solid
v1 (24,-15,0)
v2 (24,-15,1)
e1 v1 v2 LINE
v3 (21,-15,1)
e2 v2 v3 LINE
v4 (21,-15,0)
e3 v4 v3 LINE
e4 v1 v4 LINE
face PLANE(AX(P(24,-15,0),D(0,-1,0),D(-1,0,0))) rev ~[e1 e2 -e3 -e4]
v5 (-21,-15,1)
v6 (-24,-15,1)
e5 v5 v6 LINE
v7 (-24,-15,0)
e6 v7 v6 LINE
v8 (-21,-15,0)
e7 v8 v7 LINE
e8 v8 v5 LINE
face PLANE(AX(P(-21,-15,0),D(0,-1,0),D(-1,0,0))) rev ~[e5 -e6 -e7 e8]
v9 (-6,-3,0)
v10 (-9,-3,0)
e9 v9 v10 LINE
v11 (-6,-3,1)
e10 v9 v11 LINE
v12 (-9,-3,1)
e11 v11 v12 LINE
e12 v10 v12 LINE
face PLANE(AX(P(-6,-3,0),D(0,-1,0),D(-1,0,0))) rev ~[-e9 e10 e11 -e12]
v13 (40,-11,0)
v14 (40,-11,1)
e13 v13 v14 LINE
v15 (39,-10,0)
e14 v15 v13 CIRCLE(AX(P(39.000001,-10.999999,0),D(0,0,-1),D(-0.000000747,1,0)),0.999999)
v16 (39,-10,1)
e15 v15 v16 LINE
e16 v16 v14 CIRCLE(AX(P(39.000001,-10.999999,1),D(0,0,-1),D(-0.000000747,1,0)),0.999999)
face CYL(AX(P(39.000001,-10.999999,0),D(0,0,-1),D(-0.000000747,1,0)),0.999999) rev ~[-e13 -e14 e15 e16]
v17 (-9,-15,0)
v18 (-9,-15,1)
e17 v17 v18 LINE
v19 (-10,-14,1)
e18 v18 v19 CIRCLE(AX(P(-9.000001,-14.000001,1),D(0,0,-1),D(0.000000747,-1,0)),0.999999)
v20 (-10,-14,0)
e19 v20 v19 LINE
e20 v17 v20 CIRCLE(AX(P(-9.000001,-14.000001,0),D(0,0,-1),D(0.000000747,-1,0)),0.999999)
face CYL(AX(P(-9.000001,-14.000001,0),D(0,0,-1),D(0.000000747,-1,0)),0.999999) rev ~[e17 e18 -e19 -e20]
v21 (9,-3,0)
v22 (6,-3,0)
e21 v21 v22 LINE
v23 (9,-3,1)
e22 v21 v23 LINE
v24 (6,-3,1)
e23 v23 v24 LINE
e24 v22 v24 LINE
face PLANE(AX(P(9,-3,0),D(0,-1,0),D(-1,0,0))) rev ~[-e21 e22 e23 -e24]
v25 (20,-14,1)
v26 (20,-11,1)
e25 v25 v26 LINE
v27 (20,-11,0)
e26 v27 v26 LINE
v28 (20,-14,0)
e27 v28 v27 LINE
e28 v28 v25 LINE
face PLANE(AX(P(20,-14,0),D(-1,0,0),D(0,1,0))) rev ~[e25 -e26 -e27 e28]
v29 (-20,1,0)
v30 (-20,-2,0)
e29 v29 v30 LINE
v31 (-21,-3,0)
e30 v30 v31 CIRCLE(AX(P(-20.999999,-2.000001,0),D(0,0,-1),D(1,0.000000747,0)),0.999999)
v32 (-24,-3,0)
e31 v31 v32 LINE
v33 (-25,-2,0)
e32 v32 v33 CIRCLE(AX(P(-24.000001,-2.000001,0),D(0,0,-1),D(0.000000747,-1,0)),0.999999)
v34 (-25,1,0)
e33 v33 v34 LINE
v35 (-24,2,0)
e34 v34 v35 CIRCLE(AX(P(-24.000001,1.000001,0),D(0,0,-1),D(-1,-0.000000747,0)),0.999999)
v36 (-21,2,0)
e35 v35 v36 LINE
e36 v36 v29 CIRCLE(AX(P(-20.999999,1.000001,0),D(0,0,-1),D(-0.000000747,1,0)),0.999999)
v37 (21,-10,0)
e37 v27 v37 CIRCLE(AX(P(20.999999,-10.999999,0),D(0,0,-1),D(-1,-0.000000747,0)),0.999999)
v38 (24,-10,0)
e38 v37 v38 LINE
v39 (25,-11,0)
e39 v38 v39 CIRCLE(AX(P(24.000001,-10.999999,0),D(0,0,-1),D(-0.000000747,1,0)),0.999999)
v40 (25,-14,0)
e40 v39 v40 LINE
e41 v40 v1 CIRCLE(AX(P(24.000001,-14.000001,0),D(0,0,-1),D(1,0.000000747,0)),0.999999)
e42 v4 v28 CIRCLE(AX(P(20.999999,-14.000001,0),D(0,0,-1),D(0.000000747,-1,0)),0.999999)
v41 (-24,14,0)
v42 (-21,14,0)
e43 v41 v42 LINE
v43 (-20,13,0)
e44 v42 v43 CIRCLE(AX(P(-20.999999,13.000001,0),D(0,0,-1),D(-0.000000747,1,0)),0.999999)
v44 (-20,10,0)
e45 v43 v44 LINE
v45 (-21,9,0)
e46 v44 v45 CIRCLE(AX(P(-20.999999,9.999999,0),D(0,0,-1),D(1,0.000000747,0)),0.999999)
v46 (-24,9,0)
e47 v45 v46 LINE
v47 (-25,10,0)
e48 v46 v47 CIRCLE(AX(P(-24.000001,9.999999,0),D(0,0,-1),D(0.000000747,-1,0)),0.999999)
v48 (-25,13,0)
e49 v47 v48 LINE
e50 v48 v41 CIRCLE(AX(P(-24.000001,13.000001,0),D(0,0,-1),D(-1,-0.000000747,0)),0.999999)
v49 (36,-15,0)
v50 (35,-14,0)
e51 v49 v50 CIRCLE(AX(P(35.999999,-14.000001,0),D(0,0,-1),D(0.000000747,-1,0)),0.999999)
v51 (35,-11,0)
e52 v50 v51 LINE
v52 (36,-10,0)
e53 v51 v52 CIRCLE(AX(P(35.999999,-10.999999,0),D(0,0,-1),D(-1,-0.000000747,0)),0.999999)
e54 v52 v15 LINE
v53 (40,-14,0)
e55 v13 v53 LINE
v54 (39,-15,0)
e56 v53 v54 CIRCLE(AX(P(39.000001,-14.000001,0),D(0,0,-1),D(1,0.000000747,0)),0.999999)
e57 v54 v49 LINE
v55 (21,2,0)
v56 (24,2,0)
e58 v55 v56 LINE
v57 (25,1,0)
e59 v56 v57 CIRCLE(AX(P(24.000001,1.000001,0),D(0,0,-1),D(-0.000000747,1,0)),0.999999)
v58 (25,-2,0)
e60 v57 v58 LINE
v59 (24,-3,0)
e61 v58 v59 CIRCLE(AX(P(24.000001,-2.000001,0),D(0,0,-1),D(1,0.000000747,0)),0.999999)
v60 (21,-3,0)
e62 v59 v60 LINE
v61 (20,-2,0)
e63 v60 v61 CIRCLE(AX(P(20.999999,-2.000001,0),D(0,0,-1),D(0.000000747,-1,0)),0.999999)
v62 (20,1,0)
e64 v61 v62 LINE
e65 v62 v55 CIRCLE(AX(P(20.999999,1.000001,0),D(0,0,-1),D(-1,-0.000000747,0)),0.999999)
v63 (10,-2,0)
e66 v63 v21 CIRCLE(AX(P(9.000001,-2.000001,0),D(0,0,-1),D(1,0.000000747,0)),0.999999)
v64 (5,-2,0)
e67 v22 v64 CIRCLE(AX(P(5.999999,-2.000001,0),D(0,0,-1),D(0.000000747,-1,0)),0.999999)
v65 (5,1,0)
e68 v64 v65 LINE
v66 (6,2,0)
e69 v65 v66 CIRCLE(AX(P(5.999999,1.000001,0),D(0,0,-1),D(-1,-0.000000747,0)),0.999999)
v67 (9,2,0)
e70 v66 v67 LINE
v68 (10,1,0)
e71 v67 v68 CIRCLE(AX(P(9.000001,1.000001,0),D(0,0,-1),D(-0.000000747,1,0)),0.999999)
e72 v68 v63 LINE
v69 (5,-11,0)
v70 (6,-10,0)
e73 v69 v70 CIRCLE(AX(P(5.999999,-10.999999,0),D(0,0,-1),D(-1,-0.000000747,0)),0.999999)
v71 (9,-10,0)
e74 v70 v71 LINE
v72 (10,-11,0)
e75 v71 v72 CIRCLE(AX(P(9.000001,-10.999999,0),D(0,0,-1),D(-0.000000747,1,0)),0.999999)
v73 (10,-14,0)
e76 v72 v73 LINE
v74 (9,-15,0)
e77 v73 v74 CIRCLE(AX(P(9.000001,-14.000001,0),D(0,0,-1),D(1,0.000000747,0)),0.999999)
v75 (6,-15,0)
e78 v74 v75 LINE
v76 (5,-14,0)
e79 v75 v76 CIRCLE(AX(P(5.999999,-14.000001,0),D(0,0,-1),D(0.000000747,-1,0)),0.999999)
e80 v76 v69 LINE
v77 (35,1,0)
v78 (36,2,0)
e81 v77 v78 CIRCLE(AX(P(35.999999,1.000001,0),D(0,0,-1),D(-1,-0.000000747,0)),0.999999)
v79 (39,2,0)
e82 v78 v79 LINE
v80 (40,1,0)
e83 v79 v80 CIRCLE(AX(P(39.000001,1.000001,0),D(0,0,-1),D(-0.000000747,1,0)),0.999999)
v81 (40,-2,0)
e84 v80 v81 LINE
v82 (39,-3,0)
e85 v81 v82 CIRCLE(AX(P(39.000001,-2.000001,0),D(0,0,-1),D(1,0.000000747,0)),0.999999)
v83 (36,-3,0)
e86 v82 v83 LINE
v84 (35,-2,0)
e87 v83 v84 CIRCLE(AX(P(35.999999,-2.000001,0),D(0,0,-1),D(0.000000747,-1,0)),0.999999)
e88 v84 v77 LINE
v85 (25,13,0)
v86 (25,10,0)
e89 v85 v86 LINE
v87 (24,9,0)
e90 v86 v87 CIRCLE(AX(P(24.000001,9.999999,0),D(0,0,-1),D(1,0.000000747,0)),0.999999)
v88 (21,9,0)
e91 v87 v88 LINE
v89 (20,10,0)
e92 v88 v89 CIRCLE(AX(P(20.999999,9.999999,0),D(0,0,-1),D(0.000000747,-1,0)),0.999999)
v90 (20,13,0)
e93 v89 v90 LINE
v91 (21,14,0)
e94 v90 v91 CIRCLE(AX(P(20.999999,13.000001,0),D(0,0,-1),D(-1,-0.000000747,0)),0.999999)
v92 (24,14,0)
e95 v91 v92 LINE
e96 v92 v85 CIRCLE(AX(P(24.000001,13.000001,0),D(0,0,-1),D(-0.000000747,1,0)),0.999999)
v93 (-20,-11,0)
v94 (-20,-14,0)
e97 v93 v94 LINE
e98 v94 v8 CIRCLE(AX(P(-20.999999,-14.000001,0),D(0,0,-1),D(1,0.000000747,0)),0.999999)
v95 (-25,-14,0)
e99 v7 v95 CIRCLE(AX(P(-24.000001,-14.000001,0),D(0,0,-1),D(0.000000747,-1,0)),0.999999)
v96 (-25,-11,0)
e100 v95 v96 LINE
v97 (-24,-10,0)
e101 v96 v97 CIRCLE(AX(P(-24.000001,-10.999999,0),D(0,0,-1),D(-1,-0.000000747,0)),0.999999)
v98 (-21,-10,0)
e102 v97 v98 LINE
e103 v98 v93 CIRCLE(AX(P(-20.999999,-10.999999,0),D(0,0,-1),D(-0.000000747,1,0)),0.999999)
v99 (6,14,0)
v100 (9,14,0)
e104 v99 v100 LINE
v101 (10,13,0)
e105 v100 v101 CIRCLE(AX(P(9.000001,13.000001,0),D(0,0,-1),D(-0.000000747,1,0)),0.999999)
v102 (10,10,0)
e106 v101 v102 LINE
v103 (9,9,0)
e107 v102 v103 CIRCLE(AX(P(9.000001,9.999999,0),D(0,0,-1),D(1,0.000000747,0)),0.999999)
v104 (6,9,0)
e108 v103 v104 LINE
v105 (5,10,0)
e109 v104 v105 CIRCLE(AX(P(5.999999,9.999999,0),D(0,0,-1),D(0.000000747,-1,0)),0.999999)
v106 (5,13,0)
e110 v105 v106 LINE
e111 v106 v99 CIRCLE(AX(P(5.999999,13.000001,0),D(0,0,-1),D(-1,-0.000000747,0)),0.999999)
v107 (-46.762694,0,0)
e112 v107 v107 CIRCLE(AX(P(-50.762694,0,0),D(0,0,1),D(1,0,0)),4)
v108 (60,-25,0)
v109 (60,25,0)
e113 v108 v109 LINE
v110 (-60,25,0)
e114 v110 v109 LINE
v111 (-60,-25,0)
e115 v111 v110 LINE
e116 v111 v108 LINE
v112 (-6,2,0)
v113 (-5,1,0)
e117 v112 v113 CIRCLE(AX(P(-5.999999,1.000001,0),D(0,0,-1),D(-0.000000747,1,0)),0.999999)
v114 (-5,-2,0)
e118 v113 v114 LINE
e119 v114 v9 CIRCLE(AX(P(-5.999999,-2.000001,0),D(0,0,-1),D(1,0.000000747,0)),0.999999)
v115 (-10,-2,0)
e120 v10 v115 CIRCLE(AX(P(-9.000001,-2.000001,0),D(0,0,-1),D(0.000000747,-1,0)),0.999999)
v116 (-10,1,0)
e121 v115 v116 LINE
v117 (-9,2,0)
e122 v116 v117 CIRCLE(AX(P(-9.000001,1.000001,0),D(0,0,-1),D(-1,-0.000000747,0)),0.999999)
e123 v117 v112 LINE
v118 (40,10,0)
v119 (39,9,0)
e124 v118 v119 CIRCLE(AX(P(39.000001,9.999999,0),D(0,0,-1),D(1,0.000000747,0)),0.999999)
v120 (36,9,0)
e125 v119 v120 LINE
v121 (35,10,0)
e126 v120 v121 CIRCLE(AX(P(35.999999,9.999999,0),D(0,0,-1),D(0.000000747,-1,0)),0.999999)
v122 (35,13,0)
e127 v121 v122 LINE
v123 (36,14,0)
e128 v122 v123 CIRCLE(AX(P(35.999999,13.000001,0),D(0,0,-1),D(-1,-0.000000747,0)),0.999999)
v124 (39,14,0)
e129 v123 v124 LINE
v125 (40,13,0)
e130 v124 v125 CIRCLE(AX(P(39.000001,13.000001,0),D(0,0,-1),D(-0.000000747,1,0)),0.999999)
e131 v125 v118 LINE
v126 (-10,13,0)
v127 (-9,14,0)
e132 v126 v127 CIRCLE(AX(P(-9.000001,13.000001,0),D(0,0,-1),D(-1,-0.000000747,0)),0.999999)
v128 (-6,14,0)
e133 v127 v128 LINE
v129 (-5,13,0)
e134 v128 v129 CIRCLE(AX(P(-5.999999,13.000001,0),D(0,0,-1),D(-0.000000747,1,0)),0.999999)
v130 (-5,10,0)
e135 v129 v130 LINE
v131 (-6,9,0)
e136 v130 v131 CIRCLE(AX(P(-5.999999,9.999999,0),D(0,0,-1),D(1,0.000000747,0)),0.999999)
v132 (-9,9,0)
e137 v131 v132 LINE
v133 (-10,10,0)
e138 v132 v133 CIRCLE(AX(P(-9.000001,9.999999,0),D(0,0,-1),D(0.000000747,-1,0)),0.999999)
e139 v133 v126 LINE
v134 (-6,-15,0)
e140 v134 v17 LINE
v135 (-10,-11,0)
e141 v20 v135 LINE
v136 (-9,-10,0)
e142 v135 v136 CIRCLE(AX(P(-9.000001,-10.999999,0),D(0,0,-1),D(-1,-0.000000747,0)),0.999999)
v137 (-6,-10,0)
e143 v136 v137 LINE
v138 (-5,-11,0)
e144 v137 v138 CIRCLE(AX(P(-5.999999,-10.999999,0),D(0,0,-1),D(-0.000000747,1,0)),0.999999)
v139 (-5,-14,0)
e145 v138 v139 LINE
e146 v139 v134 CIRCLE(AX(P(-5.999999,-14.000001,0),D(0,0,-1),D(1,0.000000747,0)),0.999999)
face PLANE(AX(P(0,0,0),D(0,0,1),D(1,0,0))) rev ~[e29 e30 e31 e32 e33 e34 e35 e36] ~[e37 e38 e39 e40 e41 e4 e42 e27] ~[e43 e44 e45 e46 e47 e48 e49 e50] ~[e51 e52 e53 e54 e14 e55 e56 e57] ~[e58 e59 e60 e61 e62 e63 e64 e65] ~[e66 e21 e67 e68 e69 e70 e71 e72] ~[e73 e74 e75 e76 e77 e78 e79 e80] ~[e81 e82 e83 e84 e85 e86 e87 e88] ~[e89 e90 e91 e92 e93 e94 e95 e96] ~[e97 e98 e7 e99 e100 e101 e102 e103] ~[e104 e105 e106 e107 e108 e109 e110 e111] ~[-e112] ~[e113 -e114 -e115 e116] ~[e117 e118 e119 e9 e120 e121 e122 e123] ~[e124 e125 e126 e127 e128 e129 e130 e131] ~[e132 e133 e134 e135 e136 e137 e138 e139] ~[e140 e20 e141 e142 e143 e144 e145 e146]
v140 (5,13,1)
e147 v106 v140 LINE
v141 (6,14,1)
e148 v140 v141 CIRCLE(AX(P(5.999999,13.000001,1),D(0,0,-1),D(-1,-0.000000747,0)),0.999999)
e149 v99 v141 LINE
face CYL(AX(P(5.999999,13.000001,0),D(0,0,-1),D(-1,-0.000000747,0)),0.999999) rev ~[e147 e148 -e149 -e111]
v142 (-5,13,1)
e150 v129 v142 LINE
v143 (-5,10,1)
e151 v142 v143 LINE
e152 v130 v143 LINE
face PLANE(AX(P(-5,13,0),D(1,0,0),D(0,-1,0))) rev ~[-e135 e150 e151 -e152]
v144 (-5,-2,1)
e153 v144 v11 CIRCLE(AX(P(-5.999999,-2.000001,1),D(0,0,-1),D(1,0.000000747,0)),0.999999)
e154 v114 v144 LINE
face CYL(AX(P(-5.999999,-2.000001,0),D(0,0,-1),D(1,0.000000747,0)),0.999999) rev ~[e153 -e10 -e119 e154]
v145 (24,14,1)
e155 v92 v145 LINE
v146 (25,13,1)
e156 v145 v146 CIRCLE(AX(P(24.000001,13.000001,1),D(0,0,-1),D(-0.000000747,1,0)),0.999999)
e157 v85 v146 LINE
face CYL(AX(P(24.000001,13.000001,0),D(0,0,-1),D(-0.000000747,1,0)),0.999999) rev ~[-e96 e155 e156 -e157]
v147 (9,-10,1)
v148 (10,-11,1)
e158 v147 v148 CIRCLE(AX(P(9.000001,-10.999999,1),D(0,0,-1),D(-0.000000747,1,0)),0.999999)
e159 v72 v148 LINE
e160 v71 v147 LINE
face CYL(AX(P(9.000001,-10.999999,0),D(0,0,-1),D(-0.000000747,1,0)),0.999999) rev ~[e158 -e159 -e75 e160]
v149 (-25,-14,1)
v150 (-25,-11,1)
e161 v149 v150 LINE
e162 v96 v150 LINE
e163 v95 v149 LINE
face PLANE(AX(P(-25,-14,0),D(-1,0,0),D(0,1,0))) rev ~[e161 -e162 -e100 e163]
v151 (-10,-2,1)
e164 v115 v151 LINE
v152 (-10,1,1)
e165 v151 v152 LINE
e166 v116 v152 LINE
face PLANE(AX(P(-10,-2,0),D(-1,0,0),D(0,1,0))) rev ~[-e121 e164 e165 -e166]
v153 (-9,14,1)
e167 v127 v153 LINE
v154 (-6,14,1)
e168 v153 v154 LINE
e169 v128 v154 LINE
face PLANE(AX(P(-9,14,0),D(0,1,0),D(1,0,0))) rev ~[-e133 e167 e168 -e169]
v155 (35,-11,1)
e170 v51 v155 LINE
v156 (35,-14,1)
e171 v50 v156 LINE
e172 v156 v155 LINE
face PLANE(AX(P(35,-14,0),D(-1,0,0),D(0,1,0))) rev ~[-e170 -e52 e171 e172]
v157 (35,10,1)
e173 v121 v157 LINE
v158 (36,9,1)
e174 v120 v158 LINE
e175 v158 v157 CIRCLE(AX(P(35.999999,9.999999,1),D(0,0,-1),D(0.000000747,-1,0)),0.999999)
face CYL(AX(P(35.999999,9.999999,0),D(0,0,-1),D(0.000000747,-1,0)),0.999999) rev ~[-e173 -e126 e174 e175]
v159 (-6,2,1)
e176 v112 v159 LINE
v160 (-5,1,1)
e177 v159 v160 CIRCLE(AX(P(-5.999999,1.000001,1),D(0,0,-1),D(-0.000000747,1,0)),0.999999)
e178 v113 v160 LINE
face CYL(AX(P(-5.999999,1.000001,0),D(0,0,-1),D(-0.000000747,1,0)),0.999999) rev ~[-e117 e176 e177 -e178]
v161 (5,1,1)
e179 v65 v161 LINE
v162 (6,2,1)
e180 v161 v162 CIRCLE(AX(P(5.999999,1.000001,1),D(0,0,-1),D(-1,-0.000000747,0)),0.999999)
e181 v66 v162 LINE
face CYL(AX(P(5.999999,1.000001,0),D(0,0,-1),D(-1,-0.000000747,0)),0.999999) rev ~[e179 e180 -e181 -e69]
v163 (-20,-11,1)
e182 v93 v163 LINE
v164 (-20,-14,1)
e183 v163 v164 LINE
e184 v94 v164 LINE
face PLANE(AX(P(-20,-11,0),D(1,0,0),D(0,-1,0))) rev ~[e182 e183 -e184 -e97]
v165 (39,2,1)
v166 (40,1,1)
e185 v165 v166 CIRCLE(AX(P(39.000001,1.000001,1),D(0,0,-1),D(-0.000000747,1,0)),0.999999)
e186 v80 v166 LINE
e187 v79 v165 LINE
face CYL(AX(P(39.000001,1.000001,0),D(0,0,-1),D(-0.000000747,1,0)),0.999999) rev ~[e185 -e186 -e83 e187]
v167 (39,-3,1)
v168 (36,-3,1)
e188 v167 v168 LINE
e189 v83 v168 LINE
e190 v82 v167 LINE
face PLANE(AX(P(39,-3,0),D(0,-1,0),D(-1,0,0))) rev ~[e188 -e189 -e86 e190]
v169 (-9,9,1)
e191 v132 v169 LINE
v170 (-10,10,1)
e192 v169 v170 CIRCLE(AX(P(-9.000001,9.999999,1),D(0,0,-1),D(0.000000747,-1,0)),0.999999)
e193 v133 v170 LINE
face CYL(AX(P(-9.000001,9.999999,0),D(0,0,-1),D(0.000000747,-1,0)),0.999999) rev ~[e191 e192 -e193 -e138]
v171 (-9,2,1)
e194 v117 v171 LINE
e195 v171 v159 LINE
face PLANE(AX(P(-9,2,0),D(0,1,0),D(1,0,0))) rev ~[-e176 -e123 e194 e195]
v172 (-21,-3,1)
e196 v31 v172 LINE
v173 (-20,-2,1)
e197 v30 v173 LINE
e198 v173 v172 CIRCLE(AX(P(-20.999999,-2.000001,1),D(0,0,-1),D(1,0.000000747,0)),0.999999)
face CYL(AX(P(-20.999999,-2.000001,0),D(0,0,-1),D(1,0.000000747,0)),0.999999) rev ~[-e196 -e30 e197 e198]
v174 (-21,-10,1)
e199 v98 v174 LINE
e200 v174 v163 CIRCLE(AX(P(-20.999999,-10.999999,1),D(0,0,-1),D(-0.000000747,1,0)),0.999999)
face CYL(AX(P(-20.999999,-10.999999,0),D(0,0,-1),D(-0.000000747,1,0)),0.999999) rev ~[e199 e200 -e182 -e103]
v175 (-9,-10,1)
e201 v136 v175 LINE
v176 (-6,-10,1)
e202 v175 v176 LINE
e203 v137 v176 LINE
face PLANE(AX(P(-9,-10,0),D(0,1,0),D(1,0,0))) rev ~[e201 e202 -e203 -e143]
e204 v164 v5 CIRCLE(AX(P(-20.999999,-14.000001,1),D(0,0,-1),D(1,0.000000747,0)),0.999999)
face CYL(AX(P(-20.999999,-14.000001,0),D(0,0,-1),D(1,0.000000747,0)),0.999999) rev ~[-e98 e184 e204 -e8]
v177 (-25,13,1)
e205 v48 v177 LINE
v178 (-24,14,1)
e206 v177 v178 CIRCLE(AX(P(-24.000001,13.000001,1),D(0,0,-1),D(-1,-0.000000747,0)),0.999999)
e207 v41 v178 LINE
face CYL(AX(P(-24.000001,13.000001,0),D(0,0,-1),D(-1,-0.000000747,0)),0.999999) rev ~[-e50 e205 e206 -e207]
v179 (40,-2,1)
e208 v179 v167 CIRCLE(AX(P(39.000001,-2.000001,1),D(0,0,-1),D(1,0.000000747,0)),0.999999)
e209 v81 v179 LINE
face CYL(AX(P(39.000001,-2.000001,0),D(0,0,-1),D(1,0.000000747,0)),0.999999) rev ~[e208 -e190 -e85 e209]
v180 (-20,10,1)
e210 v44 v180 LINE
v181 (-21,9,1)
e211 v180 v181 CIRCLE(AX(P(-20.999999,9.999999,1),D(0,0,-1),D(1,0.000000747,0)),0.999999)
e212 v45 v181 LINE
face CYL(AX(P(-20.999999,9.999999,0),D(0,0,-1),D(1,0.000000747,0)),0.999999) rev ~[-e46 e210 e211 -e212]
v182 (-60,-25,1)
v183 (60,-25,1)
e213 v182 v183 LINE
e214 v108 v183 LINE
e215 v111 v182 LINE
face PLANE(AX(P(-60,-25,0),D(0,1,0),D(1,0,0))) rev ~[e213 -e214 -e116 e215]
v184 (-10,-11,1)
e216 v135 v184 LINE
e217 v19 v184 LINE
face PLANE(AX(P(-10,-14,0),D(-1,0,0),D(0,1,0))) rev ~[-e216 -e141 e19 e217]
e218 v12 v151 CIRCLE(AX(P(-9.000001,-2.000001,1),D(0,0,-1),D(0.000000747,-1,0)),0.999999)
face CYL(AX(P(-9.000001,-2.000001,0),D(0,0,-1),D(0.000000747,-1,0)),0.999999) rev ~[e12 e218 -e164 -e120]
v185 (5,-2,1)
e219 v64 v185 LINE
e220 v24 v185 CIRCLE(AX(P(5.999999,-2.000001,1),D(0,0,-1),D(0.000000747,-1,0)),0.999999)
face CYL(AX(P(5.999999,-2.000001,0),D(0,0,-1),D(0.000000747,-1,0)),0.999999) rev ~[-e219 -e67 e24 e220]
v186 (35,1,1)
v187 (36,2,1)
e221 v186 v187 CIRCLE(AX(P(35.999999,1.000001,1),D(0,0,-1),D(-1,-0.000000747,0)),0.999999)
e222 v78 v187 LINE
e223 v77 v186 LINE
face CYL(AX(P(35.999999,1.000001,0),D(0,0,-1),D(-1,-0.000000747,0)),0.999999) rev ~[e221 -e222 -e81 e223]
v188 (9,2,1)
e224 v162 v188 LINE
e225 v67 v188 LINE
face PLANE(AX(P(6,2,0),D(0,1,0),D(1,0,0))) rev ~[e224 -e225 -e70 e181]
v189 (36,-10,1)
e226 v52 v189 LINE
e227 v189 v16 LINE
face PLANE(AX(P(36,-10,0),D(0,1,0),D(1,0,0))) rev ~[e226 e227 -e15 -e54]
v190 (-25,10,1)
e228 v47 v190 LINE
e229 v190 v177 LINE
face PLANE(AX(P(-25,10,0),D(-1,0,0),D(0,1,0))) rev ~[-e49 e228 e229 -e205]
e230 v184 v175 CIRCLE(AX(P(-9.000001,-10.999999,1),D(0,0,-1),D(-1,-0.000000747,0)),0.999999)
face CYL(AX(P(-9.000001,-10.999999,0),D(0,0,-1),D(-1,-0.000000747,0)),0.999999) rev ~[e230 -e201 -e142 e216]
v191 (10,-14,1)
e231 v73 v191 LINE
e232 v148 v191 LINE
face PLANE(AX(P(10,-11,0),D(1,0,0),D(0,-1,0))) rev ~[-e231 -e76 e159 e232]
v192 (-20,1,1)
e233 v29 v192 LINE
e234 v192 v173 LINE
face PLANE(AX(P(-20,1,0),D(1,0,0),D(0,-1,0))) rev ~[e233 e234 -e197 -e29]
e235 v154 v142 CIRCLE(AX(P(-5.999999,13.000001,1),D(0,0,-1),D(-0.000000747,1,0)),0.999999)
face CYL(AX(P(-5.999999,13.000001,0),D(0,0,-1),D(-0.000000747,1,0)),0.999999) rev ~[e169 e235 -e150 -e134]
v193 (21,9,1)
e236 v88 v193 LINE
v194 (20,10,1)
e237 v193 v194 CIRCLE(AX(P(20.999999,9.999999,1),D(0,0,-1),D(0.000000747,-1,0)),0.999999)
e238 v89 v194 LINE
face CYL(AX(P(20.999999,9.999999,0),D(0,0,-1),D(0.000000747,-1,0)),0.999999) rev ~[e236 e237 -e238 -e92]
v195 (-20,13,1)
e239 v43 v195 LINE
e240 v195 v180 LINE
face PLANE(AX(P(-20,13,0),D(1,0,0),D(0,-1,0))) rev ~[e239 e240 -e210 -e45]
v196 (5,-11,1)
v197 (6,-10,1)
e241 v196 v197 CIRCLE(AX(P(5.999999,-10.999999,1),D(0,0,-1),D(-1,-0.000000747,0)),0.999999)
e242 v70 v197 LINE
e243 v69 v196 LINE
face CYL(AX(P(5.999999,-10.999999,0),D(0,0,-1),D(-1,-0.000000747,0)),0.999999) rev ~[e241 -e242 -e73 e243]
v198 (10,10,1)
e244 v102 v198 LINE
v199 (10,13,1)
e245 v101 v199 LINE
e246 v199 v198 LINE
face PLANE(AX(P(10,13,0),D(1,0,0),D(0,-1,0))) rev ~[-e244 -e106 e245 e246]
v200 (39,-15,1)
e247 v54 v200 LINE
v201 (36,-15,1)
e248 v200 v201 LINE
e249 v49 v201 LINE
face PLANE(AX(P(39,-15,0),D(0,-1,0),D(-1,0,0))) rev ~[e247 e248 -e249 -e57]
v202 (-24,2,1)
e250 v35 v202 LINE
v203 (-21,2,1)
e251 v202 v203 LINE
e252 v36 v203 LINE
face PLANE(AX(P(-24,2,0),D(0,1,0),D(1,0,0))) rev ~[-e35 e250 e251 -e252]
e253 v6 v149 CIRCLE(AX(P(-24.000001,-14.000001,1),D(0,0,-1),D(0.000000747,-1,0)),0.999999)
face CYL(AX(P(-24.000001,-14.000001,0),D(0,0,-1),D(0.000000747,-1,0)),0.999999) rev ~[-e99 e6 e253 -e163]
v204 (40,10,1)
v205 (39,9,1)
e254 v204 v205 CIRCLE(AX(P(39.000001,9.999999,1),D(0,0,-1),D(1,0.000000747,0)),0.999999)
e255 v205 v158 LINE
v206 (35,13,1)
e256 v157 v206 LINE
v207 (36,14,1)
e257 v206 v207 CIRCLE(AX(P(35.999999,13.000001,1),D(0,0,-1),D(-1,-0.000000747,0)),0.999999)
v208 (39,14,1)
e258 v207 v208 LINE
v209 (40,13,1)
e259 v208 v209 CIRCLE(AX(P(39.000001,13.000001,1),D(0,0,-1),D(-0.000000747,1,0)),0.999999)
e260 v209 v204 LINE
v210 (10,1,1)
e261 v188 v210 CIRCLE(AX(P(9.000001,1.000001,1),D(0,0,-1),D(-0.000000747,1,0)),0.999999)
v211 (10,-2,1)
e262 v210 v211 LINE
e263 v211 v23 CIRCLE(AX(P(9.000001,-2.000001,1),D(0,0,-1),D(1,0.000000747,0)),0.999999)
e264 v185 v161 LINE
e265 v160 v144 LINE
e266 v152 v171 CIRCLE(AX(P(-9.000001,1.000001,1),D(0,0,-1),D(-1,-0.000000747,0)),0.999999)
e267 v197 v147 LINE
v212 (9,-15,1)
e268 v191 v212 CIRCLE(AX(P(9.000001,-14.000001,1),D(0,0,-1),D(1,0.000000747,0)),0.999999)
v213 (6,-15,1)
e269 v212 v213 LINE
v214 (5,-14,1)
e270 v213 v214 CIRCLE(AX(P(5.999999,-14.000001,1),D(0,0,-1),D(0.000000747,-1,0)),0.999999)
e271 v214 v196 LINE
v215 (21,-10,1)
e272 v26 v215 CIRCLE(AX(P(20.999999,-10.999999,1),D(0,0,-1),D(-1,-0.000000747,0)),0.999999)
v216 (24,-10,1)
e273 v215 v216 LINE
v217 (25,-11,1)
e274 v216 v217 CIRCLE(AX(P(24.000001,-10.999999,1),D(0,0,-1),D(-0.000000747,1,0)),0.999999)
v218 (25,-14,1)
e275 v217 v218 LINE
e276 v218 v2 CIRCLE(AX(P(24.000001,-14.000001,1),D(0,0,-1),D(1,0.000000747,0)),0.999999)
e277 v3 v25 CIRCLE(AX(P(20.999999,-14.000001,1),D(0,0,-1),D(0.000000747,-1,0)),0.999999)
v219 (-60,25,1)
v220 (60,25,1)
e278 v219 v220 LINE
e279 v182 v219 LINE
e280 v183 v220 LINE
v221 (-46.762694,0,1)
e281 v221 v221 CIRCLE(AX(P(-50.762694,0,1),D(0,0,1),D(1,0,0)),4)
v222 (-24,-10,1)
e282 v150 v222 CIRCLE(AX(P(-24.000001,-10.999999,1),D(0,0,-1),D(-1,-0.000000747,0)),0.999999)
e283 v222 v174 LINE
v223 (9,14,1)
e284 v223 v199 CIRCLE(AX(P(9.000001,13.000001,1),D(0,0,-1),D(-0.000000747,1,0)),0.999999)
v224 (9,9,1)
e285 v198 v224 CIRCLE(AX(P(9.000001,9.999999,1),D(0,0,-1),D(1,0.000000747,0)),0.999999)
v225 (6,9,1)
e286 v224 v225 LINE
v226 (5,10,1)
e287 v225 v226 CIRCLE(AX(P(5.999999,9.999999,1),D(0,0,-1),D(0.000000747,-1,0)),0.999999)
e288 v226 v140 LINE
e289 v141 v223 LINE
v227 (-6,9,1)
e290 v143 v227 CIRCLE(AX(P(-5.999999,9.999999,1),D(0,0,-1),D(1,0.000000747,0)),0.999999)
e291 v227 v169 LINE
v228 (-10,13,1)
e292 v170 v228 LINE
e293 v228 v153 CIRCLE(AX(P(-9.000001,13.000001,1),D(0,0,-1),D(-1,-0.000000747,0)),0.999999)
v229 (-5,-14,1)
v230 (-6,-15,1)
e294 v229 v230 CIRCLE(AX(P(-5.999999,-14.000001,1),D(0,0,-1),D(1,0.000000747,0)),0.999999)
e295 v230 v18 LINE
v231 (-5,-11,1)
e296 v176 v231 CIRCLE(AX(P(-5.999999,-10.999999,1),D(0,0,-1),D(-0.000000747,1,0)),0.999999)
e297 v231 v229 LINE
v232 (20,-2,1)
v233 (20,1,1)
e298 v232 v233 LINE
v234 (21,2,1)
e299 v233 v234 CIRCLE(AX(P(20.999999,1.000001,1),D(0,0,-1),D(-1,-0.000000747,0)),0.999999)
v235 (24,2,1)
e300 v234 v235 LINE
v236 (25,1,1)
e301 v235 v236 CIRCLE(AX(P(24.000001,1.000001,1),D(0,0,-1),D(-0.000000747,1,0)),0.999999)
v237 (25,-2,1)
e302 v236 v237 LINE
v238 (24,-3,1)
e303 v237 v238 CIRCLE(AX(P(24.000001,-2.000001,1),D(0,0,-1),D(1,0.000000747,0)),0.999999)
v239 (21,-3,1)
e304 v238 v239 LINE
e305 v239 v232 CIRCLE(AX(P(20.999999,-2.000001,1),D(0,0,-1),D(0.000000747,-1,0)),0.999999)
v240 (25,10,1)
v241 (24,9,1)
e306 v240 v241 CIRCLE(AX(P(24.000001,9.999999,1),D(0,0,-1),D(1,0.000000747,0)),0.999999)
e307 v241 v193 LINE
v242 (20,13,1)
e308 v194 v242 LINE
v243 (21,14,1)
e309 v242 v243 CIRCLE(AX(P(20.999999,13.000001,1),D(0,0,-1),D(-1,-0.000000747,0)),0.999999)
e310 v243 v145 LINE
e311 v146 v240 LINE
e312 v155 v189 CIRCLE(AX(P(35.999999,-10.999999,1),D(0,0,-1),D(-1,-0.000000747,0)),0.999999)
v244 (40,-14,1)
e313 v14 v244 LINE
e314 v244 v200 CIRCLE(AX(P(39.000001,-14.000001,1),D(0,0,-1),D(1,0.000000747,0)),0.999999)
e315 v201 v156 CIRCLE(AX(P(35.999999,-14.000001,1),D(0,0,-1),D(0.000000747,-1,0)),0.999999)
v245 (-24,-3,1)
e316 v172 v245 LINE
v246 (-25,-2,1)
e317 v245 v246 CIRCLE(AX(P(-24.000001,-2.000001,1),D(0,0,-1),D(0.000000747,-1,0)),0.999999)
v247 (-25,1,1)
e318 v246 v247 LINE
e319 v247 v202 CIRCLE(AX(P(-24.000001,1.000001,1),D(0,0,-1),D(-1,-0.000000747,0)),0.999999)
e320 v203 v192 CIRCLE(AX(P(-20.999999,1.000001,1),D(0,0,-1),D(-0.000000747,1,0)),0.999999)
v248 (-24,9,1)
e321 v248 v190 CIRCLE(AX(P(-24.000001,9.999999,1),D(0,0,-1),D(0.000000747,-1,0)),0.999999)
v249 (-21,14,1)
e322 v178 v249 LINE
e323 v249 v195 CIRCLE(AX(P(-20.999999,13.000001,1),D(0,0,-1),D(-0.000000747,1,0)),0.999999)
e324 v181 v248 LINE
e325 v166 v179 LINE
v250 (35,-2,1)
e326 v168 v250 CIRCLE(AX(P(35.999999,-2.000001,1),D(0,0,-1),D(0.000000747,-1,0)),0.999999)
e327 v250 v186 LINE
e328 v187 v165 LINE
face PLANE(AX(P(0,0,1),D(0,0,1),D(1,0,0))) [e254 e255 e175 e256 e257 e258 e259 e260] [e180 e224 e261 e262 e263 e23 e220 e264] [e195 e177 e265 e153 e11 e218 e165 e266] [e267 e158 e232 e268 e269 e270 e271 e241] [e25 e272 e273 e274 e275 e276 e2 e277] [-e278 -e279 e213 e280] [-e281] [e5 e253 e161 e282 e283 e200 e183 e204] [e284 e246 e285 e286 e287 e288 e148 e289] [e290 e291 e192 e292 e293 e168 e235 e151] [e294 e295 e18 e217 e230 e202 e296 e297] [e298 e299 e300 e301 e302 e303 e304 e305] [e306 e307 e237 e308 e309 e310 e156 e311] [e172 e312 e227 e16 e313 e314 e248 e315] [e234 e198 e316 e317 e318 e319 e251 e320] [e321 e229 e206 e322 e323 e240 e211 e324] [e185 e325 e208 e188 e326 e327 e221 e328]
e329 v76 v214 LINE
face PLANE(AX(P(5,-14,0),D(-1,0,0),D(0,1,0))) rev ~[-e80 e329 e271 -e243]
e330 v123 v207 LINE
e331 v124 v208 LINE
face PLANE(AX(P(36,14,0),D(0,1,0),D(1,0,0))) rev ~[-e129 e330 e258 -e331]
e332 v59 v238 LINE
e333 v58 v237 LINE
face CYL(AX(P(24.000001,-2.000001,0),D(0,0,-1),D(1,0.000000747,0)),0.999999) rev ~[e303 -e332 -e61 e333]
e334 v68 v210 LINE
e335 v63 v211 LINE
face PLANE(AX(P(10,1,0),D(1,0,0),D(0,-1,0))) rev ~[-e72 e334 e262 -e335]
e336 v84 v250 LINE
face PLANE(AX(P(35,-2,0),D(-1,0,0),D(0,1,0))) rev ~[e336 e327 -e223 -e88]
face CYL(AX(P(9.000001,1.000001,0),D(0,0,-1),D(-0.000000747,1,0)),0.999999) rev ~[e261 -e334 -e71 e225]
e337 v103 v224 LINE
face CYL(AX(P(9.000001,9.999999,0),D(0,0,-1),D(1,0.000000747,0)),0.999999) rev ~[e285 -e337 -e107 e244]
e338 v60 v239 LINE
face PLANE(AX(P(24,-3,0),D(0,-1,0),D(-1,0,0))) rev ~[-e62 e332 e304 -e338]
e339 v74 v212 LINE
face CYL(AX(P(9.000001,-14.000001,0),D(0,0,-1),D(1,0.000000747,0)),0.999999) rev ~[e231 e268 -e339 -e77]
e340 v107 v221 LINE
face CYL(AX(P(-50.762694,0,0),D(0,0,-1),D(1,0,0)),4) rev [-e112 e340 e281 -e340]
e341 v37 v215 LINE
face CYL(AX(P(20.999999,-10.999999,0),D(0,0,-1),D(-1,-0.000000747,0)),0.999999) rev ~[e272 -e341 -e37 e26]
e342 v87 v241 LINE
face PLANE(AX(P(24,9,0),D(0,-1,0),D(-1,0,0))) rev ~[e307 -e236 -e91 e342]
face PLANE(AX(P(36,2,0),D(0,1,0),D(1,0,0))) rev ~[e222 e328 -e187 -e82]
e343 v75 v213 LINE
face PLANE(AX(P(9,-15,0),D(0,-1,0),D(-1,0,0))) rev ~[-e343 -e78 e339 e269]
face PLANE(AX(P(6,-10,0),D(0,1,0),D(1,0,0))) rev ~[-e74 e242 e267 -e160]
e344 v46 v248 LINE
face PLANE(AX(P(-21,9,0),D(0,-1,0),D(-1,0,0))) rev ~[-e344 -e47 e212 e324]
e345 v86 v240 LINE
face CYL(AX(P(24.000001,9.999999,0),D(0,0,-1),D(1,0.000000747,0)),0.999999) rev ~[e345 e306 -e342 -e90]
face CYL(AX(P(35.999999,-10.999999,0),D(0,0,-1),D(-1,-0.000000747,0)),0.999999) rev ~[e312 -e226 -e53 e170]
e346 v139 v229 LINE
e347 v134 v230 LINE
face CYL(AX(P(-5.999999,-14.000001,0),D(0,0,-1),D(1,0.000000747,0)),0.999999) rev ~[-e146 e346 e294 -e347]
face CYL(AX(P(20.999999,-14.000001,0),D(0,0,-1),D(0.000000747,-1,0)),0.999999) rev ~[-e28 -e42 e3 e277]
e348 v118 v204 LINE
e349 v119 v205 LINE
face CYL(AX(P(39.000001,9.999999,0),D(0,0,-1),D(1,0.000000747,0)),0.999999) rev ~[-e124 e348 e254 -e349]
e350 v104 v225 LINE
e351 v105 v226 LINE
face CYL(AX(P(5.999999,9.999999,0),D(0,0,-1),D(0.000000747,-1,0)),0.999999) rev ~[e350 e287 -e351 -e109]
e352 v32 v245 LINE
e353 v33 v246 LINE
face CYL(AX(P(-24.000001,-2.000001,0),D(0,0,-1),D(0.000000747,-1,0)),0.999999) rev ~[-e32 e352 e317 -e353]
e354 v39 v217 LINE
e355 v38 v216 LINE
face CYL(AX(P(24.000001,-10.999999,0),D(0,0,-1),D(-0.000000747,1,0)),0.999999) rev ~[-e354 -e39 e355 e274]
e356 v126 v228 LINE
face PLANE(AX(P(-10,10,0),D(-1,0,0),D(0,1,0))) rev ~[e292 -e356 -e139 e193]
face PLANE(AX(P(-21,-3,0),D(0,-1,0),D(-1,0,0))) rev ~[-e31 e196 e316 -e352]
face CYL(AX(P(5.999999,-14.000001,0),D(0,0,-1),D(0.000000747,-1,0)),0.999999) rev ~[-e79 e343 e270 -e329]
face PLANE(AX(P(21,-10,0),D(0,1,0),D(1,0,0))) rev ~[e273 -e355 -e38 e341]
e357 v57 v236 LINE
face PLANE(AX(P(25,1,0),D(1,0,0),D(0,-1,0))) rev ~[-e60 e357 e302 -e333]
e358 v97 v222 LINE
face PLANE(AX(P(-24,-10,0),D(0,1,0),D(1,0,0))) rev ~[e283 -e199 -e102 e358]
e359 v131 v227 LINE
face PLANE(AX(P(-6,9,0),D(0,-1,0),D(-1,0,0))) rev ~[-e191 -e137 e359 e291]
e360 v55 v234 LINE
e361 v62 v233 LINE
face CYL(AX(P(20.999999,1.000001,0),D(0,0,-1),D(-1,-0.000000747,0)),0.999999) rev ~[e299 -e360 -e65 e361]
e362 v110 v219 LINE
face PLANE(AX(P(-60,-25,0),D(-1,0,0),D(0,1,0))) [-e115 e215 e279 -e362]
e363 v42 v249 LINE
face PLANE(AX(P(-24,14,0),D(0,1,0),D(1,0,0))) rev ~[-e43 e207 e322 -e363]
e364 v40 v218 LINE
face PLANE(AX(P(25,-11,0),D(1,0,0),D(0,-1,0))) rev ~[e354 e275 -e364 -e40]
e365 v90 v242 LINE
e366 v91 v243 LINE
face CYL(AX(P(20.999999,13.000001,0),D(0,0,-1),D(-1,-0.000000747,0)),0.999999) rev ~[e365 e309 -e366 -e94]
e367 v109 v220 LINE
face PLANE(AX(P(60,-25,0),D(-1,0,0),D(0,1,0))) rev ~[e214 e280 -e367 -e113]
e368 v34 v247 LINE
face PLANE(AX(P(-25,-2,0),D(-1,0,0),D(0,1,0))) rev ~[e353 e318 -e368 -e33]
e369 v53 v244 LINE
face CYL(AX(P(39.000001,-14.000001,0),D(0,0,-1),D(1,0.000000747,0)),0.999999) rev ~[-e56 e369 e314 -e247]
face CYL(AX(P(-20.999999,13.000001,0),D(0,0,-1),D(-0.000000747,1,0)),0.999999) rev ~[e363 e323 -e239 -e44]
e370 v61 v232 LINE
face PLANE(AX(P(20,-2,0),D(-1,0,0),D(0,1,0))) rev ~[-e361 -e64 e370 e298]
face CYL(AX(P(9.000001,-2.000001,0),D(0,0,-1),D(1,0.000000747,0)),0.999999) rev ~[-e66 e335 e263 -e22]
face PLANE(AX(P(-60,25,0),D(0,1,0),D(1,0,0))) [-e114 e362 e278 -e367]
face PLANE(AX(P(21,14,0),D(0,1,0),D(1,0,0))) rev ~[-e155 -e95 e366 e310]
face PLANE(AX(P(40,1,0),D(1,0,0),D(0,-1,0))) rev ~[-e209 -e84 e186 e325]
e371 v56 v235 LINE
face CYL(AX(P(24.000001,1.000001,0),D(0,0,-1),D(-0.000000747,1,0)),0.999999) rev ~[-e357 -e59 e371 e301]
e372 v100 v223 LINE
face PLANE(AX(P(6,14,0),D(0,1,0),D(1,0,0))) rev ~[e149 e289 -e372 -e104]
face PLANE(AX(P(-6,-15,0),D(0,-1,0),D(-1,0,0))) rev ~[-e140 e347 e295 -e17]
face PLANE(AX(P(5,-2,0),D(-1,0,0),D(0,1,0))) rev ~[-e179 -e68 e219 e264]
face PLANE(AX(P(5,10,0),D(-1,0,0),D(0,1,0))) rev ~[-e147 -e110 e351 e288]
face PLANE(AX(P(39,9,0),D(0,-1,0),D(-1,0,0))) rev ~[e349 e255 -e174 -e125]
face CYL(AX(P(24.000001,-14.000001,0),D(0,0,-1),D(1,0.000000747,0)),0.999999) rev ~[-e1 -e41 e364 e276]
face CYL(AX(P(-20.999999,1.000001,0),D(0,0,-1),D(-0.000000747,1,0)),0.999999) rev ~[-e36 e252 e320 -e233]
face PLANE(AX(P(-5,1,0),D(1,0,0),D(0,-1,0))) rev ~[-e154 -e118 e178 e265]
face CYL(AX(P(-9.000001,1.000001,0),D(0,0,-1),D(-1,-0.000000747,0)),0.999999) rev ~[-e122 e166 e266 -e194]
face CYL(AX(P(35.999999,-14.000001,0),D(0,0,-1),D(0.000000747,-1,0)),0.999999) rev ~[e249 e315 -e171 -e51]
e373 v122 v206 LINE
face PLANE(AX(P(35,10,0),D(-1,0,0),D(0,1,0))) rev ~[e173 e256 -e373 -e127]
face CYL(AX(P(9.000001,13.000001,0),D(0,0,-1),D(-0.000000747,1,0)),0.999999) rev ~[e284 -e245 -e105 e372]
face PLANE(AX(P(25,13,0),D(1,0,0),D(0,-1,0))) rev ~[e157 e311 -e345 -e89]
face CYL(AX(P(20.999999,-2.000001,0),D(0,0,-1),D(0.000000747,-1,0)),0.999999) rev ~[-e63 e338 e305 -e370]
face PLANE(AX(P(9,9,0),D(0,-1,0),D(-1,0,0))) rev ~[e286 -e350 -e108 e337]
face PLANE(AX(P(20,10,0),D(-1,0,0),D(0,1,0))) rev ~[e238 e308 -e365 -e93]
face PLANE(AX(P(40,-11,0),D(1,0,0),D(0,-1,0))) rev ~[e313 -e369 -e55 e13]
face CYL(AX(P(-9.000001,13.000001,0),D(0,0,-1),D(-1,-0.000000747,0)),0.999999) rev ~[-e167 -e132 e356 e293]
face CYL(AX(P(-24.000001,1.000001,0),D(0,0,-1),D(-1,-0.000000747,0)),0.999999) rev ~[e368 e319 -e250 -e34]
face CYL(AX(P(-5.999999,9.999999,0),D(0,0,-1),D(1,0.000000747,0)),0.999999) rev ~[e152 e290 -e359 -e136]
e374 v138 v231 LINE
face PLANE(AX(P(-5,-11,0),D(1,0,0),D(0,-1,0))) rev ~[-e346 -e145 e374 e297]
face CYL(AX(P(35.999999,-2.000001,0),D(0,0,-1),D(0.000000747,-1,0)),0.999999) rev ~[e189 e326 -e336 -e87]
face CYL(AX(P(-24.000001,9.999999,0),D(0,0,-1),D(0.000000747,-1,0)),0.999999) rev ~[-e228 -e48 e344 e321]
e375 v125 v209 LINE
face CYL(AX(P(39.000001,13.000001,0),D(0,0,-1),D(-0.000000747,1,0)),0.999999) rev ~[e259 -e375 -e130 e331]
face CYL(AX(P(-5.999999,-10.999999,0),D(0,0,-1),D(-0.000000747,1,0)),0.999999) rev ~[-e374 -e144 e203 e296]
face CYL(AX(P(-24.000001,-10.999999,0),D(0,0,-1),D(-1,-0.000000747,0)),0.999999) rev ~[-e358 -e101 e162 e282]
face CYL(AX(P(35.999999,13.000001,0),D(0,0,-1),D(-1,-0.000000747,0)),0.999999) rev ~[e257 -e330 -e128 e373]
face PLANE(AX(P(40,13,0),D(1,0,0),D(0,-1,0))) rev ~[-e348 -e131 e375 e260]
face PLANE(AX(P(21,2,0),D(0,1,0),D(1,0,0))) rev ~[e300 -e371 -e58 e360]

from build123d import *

# Parameters (mm, degrees)
F0_W     = 120
F0_H     = 50
F0_R     = 4
F1_DEPTH = 1


with BuildPart() as f1:
    # F0 (on Top) → F1 (new body)
    with BuildSketch(Plane.XY):
        Rectangle(F0_W, F0_H)
        with BuildLine():
            Line((-21, -15), (-24, -15))
            ThreePointArc((-24, -15), (-24.707107, -14.707107), (-25, -14))
            Line((-25, -14), (-25, -11))
            ThreePointArc((-25, -11), (-24.707107, -10.292893), (-24, -10))
            Line((-24, -10), (-21, -10))
            ThreePointArc((-21, -10), (-20.292893, -10.292893), (-20, -11))
            Line((-20, -11), (-20, -14))
            ThreePointArc((-20, -14), (-20.292893, -14.707107), (-21, -15))
        make_face(mode=Mode.SUBTRACT)
        with BuildLine():
            ThreePointArc((-10, -11), (-9.707107, -10.292893), (-9, -10))
            Line((-9, -10), (-6, -10))
            ThreePointArc((-6, -10), (-5.292893, -10.292893), (-5, -11))
            Line((-5, -11), (-5, -14))
            ThreePointArc((-5, -14), (-5.292893, -14.707107), (-6, -15))
            Line((-6, -15), (-9, -15))
            ThreePointArc((-9, -15), (-9.707107, -14.707107), (-10, -14))
            Line((-10, -14), (-10, -11))
        make_face(mode=Mode.SUBTRACT)
        with BuildLine():
            ThreePointArc((-25, 1), (-24.707107, 1.707107), (-24, 2))
            Line((-24, 2), (-21, 2))
            ThreePointArc((-21, 2), (-20.292893, 1.707107), (-20, 1))
            Line((-20, 1), (-20, -2))
            ThreePointArc((-20, -2), (-20.292893, -2.707107), (-21, -3))
            Line((-21, -3), (-24, -3))
            ThreePointArc((-24, -3), (-24.707107, -2.707107), (-25, -2))
            Line((-25, -2), (-25, 1))
        make_face(mode=Mode.SUBTRACT)
        with BuildLine():
            ThreePointArc((-10, 1), (-9.707107, 1.707107), (-9, 2))
            Line((-9, 2), (-6, 2))
            ThreePointArc((-6, 2), (-5.292893, 1.707107), (-5, 1))
            Line((-5, 1), (-5, -2))
            ThreePointArc((-5, -2), (-5.292893, -2.707107), (-6, -3))
            Line((-6, -3), (-9, -3))
            ThreePointArc((-9, -3), (-9.707107, -2.707107), (-10, -2))
            Line((-10, -2), (-10, 1))
        make_face(mode=Mode.SUBTRACT)
        with BuildLine():
            ThreePointArc((5, -11), (5.292893, -10.292893), (6, -10))
            Line((6, -10), (9, -10))
            ThreePointArc((9, -10), (9.707107, -10.292893), (10, -11))
            Line((10, -11), (10, -14))
            ThreePointArc((10, -14), (9.707107, -14.707107), (9, -15))
            Line((9, -15), (6, -15))
            ThreePointArc((6, -15), (5.292893, -14.707107), (5, -14))
            Line((5, -14), (5, -11))
        make_face(mode=Mode.SUBTRACT)
        with BuildLine():
            ThreePointArc((20, -11), (20.292893, -10.292893), (21, -10))
            Line((21, -10), (24, -10))
            ThreePointArc((24, -10), (24.707107, -10.292893), (25, -11))
            Line((25, -11), (25, -14))
            ThreePointArc((25, -14), (24.707107, -14.707107), (24, -15))
            Line((24, -15), (21, -15))
            ThreePointArc((21, -15), (20.292893, -14.707107), (20, -14))
            Line((20, -14), (20, -11))
        make_face(mode=Mode.SUBTRACT)
        with BuildLine():
            ThreePointArc((5, 1), (5.292893, 1.707107), (6, 2))
            Line((6, 2), (9, 2))
            ThreePointArc((9, 2), (9.707107, 1.707107), (10, 1))
            Line((10, 1), (10, -2))
            ThreePointArc((10, -2), (9.707107, -2.707107), (9, -3))
            Line((9, -3), (6, -3))
            ThreePointArc((6, -3), (5.292893, -2.707107), (5, -2))
            Line((5, -2), (5, 1))
        make_face(mode=Mode.SUBTRACT)
        with BuildLine():
            ThreePointArc((20, 1), (20.292893, 1.707107), (21, 2))
            Line((21, 2), (24, 2))
            ThreePointArc((24, 2), (24.707107, 1.707107), (25, 1))
            Line((25, 1), (25, -2))
            ThreePointArc((25, -2), (24.707107, -2.707107), (24, -3))
            Line((24, -3), (21, -3))
            ThreePointArc((21, -3), (20.292893, -2.707107), (20, -2))
            Line((20, -2), (20, 1))
        make_face(mode=Mode.SUBTRACT)
        with BuildLine():
            ThreePointArc((35, -11), (35.292893, -10.292893), (36, -10))
            Line((36, -10), (39, -10))
            ThreePointArc((39, -10), (39.707107, -10.292893), (40, -11))
            Line((40, -11), (40, -14))
            ThreePointArc((40, -14), (39.707107, -14.707107), (39, -15))
            Line((39, -15), (36, -15))
            ThreePointArc((36, -15), (35.292893, -14.707107), (35, -14))
            Line((35, -14), (35, -11))
        make_face(mode=Mode.SUBTRACT)
        with BuildLine():
            ThreePointArc((35, 1), (35.292893, 1.707107), (36, 2))
            Line((36, 2), (39, 2))
            ThreePointArc((39, 2), (39.707107, 1.707107), (40, 1))
            Line((40, 1), (40, -2))
            ThreePointArc((40, -2), (39.707107, -2.707107), (39, -3))
            Line((39, -3), (36, -3))
            ThreePointArc((36, -3), (35.292893, -2.707107), (35, -2))
            Line((35, -2), (35, 1))
        make_face(mode=Mode.SUBTRACT)
        with Locations((-50.762694, 0)):
            Circle(F0_R, mode=Mode.SUBTRACT)
        with BuildLine():
            ThreePointArc((-25, 13), (-24.707107, 13.707107), (-24, 14))
            Line((-24, 14), (-21, 14))
            ThreePointArc((-21, 14), (-20.292893, 13.707107), (-20, 13))
            Line((-20, 13), (-20, 10))
            ThreePointArc((-20, 10), (-20.292893, 9.292893), (-21, 9))
            Line((-21, 9), (-24, 9))
            ThreePointArc((-24, 9), (-24.707107, 9.292893), (-25, 10))
            Line((-25, 10), (-25, 13))
        make_face(mode=Mode.SUBTRACT)
        with BuildLine():
            ThreePointArc((-10, 13), (-9.707107, 13.707107), (-9, 14))
            Line((-9, 14), (-6, 14))
            ThreePointArc((-6, 14), (-5.292893, 13.707107), (-5, 13))
            Line((-5, 13), (-5, 10))
            ThreePointArc((-5, 10), (-5.292893, 9.292893), (-6, 9))
            Line((-6, 9), (-9, 9))
            ThreePointArc((-9, 9), (-9.707107, 9.292893), (-10, 10))
            Line((-10, 10), (-10, 13))
        make_face(mode=Mode.SUBTRACT)
        with BuildLine():
            ThreePointArc((5, 13), (5.292893, 13.707107), (6, 14))
            Line((6, 14), (9, 14))
            ThreePointArc((9, 14), (9.707107, 13.707107), (10, 13))
            Line((10, 13), (10, 10))
            ThreePointArc((10, 10), (9.707107, 9.292893), (9, 9))
            Line((9, 9), (6, 9))
            ThreePointArc((6, 9), (5.292893, 9.292893), (5, 10))
            Line((5, 10), (5, 13))
        make_face(mode=Mode.SUBTRACT)
        with BuildLine():
            ThreePointArc((20, 13), (20.292893, 13.707107), (21, 14))
            Line((21, 14), (24, 14))
            ThreePointArc((24, 14), (24.707107, 13.707107), (25, 13))
            Line((25, 13), (25, 10))
            ThreePointArc((25, 10), (24.707107, 9.292893), (24, 9))
            Line((24, 9), (21, 9))
            ThreePointArc((21, 9), (20.292893, 9.292893), (20, 10))
            Line((20, 10), (20, 13))
        make_face(mode=Mode.SUBTRACT)
        with BuildLine():
            ThreePointArc((35, 13), (35.292893, 13.707107), (36, 14))
            Line((36, 14), (39, 14))
            ThreePointArc((39, 14), (39.707107, 13.707107), (40, 13))
            Line((40, 13), (40, 10))
            ThreePointArc((40, 10), (39.707107, 9.292893), (39, 9))
            Line((39, 9), (36, 9))
            ThreePointArc((36, 9), (35.292893, 9.292893), (35, 10))
            Line((35, 10), (35, 13))
        make_face(mode=Mode.SUBTRACT)
    extrude(amount=F1_DEPTH)


solid = f1.part
